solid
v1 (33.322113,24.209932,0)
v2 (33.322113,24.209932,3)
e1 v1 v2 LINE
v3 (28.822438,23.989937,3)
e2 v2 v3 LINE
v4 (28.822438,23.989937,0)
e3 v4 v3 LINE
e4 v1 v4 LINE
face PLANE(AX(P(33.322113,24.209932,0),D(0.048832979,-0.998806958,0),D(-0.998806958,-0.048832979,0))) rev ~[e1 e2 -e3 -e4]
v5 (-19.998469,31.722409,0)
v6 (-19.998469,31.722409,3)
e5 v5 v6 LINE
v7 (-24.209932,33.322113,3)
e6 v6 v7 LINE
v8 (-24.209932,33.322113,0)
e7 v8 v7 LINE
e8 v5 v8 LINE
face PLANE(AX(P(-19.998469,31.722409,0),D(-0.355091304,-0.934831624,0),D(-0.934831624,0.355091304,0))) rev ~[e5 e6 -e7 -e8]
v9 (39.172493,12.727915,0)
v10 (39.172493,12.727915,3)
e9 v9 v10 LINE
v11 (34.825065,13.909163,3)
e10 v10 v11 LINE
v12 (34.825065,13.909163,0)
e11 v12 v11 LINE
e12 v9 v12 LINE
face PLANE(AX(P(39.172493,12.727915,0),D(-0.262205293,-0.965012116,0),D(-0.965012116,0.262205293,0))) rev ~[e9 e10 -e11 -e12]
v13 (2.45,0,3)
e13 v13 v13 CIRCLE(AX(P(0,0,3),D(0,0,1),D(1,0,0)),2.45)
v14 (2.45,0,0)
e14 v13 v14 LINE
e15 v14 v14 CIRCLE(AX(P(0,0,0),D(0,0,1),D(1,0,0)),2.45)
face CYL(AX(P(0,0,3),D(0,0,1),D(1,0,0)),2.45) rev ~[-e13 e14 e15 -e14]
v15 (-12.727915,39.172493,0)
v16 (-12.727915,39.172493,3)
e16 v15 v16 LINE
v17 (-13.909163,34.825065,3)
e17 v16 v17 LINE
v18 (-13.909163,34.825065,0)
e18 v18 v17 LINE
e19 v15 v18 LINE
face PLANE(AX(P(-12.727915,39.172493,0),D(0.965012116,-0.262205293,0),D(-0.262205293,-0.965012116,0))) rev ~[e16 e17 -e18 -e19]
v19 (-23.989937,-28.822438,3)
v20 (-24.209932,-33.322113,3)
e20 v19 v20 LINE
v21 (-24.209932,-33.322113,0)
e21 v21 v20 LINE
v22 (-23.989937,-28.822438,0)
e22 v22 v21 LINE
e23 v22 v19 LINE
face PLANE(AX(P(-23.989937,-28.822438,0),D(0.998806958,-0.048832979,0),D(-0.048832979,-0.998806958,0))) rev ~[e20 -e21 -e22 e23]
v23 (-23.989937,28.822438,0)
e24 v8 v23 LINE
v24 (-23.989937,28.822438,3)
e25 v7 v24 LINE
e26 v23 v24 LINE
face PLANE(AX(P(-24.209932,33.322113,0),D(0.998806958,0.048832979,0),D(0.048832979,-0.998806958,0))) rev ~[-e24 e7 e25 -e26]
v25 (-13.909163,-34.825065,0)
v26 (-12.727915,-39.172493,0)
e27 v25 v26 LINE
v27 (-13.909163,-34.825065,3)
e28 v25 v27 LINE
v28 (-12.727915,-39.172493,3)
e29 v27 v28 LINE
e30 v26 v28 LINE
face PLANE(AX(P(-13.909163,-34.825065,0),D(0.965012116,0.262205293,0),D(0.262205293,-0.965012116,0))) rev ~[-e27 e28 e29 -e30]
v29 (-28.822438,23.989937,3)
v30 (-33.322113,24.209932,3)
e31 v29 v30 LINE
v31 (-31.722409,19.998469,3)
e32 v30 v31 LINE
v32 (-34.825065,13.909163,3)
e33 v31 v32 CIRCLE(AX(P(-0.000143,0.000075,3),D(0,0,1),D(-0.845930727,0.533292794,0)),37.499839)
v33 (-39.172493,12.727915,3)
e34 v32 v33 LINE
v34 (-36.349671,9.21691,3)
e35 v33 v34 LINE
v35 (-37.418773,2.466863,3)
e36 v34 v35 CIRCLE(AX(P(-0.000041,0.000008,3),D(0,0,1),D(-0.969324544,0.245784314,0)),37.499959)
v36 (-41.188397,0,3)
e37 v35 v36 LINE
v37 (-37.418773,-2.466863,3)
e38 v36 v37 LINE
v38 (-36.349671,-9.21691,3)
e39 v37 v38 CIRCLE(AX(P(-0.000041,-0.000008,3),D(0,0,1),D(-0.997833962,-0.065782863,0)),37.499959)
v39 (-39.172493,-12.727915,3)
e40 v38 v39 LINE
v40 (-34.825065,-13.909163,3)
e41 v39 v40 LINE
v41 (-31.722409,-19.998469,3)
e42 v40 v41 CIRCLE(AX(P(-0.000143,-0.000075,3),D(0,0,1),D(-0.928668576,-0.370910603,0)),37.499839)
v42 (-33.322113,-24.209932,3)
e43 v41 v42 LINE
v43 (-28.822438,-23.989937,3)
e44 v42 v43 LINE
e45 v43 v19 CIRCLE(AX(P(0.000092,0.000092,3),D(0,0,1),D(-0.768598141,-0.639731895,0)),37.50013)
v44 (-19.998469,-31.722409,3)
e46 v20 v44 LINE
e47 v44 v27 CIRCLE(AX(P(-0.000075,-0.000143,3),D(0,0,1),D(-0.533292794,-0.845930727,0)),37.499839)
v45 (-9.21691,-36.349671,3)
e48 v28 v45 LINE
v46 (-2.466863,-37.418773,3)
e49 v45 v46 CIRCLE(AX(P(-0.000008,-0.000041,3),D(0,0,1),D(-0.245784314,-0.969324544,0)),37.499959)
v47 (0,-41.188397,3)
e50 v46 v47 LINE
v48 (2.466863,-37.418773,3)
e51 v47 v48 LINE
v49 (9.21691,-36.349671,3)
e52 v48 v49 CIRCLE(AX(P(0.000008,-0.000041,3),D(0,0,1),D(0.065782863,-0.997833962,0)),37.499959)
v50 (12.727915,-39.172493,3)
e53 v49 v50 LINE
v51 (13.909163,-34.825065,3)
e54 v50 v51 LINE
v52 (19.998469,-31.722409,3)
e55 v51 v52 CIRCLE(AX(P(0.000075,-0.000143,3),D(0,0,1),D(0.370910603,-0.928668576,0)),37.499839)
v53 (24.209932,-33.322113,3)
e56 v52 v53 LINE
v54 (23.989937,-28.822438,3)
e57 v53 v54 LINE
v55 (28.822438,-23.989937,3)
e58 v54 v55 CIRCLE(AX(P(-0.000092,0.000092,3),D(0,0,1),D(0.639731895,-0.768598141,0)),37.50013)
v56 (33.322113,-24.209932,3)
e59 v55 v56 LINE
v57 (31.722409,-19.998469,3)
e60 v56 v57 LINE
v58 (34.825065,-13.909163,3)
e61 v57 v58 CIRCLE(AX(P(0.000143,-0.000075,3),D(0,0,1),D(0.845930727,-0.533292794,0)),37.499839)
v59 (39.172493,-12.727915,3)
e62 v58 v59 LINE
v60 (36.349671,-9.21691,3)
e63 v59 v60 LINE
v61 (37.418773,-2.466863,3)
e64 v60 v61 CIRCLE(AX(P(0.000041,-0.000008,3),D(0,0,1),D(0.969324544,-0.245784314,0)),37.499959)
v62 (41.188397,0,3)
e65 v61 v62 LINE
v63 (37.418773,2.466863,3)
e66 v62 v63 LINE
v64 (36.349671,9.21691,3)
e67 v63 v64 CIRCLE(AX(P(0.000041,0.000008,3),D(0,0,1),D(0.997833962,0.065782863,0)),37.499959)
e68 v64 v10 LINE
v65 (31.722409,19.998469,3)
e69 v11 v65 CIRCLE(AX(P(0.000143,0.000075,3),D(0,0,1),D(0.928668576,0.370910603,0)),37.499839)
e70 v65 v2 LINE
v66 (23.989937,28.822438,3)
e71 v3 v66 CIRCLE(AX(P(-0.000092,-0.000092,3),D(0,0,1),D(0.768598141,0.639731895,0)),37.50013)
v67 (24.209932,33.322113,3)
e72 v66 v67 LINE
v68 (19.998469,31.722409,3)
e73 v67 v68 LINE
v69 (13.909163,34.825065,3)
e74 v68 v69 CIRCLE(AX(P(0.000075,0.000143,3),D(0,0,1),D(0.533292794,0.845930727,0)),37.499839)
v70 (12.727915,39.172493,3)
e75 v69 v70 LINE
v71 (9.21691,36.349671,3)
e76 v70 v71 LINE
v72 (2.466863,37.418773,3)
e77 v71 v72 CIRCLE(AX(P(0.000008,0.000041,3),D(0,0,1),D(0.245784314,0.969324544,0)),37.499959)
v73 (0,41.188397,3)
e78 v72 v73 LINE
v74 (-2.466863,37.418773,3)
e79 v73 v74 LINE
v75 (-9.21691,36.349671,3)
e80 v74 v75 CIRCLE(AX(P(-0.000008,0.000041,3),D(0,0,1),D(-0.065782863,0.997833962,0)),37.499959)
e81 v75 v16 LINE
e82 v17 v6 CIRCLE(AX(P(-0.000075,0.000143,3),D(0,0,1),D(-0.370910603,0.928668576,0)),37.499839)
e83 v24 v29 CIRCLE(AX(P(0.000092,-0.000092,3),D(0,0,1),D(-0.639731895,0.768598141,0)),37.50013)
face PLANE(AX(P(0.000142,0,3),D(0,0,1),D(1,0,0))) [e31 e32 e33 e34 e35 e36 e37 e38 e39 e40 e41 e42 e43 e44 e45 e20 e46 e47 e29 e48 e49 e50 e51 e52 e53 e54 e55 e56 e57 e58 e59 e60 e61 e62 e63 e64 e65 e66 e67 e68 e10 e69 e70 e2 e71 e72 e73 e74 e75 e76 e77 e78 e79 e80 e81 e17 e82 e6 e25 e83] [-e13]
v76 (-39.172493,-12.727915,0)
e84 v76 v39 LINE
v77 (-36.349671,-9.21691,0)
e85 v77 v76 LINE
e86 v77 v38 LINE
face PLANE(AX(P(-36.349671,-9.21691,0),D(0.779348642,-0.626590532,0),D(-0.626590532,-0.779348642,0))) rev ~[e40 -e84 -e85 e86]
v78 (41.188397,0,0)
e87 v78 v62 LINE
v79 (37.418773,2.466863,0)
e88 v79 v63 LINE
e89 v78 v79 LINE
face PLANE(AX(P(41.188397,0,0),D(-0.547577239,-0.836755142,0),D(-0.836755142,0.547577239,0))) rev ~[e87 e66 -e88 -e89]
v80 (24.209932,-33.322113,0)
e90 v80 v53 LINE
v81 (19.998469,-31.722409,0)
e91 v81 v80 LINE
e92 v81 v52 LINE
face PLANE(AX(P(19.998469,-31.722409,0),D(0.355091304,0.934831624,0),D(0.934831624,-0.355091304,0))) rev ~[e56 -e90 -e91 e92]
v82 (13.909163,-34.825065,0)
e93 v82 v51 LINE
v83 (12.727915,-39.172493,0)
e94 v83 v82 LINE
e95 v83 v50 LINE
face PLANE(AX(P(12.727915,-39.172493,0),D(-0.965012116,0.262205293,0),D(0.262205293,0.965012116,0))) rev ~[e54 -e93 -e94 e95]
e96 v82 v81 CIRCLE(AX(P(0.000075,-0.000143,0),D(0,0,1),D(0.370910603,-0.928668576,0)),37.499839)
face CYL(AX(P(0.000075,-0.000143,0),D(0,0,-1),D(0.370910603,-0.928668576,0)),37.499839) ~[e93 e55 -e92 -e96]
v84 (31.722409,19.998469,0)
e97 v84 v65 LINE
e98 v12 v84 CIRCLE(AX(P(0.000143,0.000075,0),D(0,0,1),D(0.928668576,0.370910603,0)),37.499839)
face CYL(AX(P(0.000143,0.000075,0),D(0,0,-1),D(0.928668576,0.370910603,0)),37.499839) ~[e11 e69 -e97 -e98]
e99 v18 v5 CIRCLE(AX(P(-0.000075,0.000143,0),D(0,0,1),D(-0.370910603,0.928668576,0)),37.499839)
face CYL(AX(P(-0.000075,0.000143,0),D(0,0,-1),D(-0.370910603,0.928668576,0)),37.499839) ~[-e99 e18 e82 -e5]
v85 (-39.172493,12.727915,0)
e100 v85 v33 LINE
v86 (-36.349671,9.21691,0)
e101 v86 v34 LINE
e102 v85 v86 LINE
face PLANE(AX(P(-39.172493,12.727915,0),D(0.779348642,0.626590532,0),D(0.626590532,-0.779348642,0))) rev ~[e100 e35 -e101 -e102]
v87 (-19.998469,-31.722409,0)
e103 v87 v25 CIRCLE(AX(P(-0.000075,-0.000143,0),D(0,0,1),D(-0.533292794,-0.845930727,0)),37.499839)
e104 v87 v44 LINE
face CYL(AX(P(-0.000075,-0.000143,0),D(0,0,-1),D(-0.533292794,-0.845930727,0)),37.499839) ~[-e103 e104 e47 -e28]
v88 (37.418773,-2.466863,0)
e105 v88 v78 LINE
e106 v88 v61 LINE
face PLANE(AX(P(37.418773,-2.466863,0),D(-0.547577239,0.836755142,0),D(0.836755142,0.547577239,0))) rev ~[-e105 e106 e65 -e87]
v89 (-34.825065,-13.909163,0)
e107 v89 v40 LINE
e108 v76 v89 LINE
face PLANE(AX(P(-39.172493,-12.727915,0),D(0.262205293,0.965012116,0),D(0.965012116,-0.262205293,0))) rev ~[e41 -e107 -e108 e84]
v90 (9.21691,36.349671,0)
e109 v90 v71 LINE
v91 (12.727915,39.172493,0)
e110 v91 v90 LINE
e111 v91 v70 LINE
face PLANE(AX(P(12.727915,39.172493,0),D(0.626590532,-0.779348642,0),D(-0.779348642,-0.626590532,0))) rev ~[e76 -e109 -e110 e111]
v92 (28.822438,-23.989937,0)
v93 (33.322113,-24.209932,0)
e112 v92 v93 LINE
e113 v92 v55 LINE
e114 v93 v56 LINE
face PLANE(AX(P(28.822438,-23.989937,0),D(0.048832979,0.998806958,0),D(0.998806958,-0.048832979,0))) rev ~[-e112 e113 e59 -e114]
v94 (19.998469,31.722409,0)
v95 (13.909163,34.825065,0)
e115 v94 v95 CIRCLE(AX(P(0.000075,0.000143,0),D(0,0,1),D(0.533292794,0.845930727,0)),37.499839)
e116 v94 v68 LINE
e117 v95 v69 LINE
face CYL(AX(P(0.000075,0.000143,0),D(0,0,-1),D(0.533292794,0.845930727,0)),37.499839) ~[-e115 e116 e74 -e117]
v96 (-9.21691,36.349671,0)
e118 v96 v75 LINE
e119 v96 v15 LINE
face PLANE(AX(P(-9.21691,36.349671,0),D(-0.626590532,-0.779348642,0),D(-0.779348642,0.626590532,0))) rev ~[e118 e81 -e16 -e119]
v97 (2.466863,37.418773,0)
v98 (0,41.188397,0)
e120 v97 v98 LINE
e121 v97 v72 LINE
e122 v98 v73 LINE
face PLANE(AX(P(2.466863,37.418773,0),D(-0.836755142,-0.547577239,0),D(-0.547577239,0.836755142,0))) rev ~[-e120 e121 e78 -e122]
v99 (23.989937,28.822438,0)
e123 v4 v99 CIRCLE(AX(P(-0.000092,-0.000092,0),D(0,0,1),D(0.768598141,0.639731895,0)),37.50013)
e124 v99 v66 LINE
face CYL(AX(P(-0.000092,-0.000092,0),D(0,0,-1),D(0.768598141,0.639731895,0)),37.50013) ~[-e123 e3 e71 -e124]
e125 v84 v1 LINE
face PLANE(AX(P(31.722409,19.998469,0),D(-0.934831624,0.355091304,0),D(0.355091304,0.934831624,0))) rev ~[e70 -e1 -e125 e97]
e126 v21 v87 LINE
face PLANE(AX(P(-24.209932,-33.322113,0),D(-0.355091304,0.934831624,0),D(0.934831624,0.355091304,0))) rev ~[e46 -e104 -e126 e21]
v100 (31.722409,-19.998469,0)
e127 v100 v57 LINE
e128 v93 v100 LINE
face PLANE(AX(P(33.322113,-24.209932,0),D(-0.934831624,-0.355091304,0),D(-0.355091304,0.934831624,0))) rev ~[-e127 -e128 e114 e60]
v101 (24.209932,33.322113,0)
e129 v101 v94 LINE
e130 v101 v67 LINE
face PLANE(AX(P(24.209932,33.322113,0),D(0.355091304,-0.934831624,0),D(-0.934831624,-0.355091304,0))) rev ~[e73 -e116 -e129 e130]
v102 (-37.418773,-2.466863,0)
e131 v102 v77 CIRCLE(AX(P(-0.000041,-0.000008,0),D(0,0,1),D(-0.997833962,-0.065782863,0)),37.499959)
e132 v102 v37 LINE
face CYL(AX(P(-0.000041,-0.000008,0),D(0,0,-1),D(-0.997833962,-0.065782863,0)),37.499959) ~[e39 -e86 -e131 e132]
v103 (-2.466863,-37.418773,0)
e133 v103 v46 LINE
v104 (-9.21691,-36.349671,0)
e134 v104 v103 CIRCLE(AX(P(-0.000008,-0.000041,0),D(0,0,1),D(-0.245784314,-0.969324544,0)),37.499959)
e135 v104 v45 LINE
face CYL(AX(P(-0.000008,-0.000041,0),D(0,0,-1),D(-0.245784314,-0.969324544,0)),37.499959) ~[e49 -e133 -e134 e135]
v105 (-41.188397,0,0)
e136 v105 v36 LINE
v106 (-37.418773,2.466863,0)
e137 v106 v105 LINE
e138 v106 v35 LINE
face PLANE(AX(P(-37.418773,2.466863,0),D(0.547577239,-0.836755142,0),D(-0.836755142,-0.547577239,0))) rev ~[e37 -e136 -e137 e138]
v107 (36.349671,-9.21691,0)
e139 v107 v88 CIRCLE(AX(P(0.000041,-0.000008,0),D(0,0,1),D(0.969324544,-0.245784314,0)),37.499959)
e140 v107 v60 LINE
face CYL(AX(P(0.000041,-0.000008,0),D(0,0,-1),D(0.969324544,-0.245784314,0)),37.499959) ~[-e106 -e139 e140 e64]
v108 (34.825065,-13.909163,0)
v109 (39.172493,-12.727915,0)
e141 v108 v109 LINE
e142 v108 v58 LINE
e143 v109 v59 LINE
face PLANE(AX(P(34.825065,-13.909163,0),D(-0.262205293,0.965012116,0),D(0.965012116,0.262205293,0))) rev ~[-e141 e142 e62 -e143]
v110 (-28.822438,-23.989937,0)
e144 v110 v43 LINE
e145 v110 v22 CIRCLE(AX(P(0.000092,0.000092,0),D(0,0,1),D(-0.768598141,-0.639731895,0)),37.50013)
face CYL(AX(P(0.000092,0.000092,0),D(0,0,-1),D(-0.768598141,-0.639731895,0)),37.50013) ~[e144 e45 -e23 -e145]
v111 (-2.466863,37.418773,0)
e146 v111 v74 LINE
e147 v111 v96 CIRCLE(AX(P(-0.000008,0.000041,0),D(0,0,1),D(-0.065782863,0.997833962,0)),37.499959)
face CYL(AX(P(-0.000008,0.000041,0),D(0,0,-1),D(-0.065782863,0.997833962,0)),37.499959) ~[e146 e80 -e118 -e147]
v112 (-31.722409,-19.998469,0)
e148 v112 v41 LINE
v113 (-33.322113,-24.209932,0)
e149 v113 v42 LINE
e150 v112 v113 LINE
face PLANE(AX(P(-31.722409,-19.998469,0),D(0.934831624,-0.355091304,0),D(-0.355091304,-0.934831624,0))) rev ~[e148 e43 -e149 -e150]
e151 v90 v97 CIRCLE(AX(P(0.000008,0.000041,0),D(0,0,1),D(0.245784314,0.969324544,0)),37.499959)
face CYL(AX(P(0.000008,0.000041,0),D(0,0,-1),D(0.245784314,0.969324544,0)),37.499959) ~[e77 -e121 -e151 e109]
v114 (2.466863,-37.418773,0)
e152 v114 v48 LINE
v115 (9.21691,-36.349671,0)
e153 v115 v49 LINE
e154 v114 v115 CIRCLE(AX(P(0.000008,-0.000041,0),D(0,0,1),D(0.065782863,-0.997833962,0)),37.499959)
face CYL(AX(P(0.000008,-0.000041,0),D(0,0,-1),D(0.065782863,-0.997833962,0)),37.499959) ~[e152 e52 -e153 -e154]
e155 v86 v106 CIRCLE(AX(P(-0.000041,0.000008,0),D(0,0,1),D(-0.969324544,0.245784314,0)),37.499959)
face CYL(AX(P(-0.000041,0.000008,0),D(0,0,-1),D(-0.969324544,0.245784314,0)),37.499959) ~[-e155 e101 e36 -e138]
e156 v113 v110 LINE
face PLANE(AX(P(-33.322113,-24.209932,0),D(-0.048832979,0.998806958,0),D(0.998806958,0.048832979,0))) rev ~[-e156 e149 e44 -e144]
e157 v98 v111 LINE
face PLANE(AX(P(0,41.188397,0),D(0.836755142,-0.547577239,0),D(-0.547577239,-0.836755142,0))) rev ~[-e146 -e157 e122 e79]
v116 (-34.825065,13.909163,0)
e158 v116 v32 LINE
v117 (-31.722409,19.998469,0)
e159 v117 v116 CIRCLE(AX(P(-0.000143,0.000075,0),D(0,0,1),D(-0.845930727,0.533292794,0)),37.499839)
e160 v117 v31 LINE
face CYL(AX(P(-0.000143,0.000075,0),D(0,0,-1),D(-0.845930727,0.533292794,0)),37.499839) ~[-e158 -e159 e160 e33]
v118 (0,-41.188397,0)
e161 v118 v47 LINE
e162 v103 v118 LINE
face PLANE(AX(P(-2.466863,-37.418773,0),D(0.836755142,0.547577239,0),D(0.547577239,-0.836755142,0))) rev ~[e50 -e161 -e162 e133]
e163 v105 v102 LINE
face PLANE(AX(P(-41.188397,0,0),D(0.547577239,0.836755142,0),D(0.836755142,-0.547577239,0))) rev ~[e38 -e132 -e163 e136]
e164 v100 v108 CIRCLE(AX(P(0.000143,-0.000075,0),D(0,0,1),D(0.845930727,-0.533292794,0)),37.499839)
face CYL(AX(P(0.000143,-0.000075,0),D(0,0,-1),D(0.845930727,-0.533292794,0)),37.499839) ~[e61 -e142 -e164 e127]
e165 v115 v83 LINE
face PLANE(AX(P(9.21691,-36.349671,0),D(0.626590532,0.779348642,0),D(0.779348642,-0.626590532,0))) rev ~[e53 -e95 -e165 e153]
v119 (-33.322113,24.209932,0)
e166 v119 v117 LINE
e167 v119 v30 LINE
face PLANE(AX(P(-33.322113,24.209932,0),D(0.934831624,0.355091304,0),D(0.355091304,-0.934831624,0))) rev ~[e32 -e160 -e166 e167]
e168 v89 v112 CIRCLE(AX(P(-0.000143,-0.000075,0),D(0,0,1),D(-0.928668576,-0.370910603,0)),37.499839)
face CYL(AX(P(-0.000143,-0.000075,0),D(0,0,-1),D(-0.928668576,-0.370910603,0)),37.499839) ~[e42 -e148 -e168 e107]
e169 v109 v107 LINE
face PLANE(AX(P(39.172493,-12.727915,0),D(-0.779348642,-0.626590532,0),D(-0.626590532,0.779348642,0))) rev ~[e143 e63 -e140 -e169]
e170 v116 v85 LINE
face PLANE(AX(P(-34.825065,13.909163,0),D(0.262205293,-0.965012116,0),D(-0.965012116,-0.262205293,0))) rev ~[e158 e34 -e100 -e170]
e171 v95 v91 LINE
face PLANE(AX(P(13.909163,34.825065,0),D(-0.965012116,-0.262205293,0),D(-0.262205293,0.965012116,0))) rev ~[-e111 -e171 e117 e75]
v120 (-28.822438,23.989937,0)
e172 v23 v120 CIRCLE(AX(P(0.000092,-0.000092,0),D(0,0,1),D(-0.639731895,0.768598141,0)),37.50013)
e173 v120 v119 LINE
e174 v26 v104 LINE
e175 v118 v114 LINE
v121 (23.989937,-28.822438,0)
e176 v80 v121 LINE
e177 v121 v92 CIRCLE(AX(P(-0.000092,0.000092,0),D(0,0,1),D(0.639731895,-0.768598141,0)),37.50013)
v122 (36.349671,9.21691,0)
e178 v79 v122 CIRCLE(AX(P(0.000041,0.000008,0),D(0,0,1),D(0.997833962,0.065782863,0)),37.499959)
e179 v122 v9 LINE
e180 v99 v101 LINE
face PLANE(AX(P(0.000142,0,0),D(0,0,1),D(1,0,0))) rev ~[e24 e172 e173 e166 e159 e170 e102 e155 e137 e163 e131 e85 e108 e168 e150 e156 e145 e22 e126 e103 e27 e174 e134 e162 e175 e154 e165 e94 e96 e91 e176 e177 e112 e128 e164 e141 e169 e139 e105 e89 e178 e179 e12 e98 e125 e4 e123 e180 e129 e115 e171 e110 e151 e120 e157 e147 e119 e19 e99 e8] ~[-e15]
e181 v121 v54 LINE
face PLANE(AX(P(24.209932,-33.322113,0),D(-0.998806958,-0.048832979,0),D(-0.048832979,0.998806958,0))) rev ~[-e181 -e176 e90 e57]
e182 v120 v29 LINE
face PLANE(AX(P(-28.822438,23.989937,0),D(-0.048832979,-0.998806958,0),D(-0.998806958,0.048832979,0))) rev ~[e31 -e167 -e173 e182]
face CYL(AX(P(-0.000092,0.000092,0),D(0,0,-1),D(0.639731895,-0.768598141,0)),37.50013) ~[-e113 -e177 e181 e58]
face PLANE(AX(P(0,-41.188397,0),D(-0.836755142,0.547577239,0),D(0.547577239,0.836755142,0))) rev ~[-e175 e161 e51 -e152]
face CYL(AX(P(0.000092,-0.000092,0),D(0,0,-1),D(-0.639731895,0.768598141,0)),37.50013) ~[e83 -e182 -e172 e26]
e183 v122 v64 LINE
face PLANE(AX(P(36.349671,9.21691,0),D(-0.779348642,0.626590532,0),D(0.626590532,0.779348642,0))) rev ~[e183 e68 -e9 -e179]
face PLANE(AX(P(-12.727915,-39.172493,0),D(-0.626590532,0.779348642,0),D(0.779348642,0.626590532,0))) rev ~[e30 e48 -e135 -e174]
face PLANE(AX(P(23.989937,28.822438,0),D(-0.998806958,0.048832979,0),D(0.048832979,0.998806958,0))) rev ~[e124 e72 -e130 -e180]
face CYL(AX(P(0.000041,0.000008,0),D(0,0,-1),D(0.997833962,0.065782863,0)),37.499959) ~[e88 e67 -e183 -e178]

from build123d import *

# Parameters (mm, degrees)
F1_DEPTH = 3
F2_R     = 2.45
F3_DEPTH = 3


with BuildPart() as f1:
    # F0 (on Top) → F1 (new body)
    with BuildSketch(Plane.XY):
        with BuildLine():
            ThreePointArc((37.418773, -2.466863), (37.479688, -1.2341), (37.5, 0))
            ThreePointArc((37.5, 0), (37.479688, 1.2341), (37.418773, 2.466863))
            ThreePointArc((37.418773, 2.466863), (37.038313, 5.866292), (36.349671, 9.21691))
            ThreePointArc((36.349671, 9.21691), (35.664619, 11.588137), (34.825065, 13.909163))
            ThreePointArc((34.825065, 13.909163), (33.412745, 17.024644), (31.722409, 19.998469))
            ThreePointArc((31.722409, 19.998469), (30.338137, 22.041947), (28.822438, 23.989937))
            ThreePointArc((28.822438, 23.989937), (26.516504, 26.516504), (23.989937, 28.822438))
            ThreePointArc((23.989937, 28.822438), (22.041947, 30.338137), (19.998469, 31.722409))
            ThreePointArc((19.998469, 31.722409), (17.024644, 33.412745), (13.909163, 34.825065))
            ThreePointArc((13.909163, 34.825065), (11.588137, 35.664619), (9.21691, 36.349671))
            ThreePointArc((9.21691, 36.349671), (5.866292, 37.038313), (2.466863, 37.418773))
            ThreePointArc((2.466863, 37.418773), (0, 37.5), (-2.466863, 37.418773))
            ThreePointArc((-2.466863, 37.418773), (-5.866292, 37.038313), (-9.21691, 36.349671))
            ThreePointArc((-9.21691, 36.349671), (-11.588137, 35.664619), (-13.909163, 34.825065))
            ThreePointArc((-13.909163, 34.825065), (-17.024644, 33.412745), (-19.998469, 31.722409))
            ThreePointArc((-19.998469, 31.722409), (-22.041947, 30.338137), (-23.989937, 28.822438))
            ThreePointArc((-23.989937, 28.822438), (-26.516504, 26.516504), (-28.822438, 23.989937))
            ThreePointArc((-28.822438, 23.989937), (-30.338137, 22.041947), (-31.722409, 19.998469))
            ThreePointArc((-31.722409, 19.998469), (-33.412745, 17.024644), (-34.825065, 13.909163))
            ThreePointArc((-34.825065, 13.909163), (-35.664619, 11.588137), (-36.349671, 9.21691))
            ThreePointArc((-36.349671, 9.21691), (-37.038313, 5.866292), (-37.418773, 2.466863))
            ThreePointArc((-37.418773, 2.466863), (-37.5, 0), (-37.418773, -2.466863))
            ThreePointArc((-37.418773, -2.466863), (-37.038313, -5.866292), (-36.349671, -9.21691))
            ThreePointArc((-36.349671, -9.21691), (-35.664619, -11.588137), (-34.825065, -13.909163))
            ThreePointArc((-34.825065, -13.909163), (-33.412745, -17.024644), (-31.722409, -19.998469))
            ThreePointArc((-31.722409, -19.998469), (-30.338137, -22.041947), (-28.822438, -23.989937))
            ThreePointArc((-28.822438, -23.989937), (-26.516504, -26.516504), (-23.989937, -28.822438))
            ThreePointArc((-23.989937, -28.822438), (-22.041947, -30.338137), (-19.998469, -31.722409))
            ThreePointArc((-19.998469, -31.722409), (-17.024644, -33.412745), (-13.909163, -34.825065))
            ThreePointArc((-13.909163, -34.825065), (-11.588137, -35.664619), (-9.21691, -36.349671))
            ThreePointArc((-9.21691, -36.349671), (-5.866292, -37.038313), (-2.466863, -37.418773))
            ThreePointArc((-2.466863, -37.418773), (0, -37.5), (2.466863, -37.418773))
            ThreePointArc((2.466863, -37.418773), (5.866292, -37.038313), (9.21691, -36.349671))
            ThreePointArc((9.21691, -36.349671), (11.588137, -35.664619), (13.909163, -34.825065))
            ThreePointArc((13.909163, -34.825065), (17.024644, -33.412745), (19.998469, -31.722409))
            ThreePointArc((19.998469, -31.722409), (22.041947, -30.338137), (23.989937, -28.822438))
            ThreePointArc((23.989937, -28.822438), (26.516504, -26.516504), (28.822438, -23.989937))
            ThreePointArc((28.822438, -23.989937), (30.338137, -22.041947), (31.722409, -19.998469))
            ThreePointArc((31.722409, -19.998469), (33.412745, -17.024644), (34.825065, -13.909163))
            ThreePointArc((34.825065, -13.909163), (35.664619, -11.588137), (36.349671, -9.21691))
            ThreePointArc((36.349671, -9.21691), (37.038313, -5.866292), (37.418773, -2.466863))
        make_face()
        with BuildLine():
            ThreePointArc((37.418773, 2.466863), (37.479688, 1.2341), (37.5, 0))
            ThreePointArc((37.5, 0), (37.479688, -1.2341), (37.418773, -2.466863))
            Line((37.418773, -2.466863), (41.188397, 0))
            Line((41.188397, 0), (37.418773, 2.466863))
        make_face()
        with BuildLine():
            ThreePointArc((34.825065, 13.909163), (35.664619, 11.588137), (36.349671, 9.21691))
            Line((36.349671, 9.21691), (39.172493, 12.727915))
            Line((39.172493, 12.727915), (34.825065, 13.909163))
        make_face()
        with BuildLine():
            Line((39.172493, -12.727915), (36.349671, -9.21691))
            ThreePointArc((36.349671, -9.21691), (35.664619, -11.588137), (34.825065, -13.909163))
            Line((34.825065, -13.909163), (39.172493, -12.727915))
        make_face()
        with BuildLine():
            ThreePointArc((28.822438, 23.989937), (30.338137, 22.041947), (31.722409, 19.998469))
            Line((31.722409, 19.998469), (33.322113, 24.209932))
            Line((33.322113, 24.209932), (28.822438, 23.989937))
        make_face()
        with BuildLine():
            Line((33.322113, -24.209932), (31.722409, -19.998469))
            ThreePointArc((31.722409, -19.998469), (30.338137, -22.041947), (28.822438, -23.989937))
            Line((28.822438, -23.989937), (33.322113, -24.209932))
        make_face()
        with BuildLine():
            ThreePointArc((19.998469, 31.722409), (22.041947, 30.338137), (23.989937, 28.822438))
            Line((23.989937, 28.822438), (24.209932, 33.322113))
            Line((24.209932, 33.322113), (19.998469, 31.722409))
        make_face()
        with BuildLine():
            Line((24.209932, -33.322113), (23.989937, -28.822438))
            ThreePointArc((23.989937, -28.822438), (22.041947, -30.338137), (19.998469, -31.722409))
            Line((19.998469, -31.722409), (24.209932, -33.322113))
        make_face()
        with BuildLine():
            ThreePointArc((9.21691, 36.349671), (11.588137, 35.664619), (13.909163, 34.825065))
            Line((13.909163, 34.825065), (12.727915, 39.172493))
            Line((12.727915, 39.172493), (9.21691, 36.349671))
        make_face()
        with BuildLine():
            Line((12.727915, -39.172493), (13.909163, -34.825065))
            ThreePointArc((13.909163, -34.825065), (11.588137, -35.664619), (9.21691, -36.349671))
            Line((9.21691, -36.349671), (12.727915, -39.172493))
        make_face()
        with BuildLine():
            ThreePointArc((-2.466863, 37.418773), (0, 37.5), (2.466863, 37.418773))
            Line((2.466863, 37.418773), (0, 41.188397))
            Line((0, 41.188397), (-2.466863, 37.418773))
        make_face()
        with BuildLine():
            Line((0, -41.188397), (2.466863, -37.418773))
            ThreePointArc((2.466863, -37.418773), (0, -37.5), (-2.466863, -37.418773))
            Line((-2.466863, -37.418773), (0, -41.188397))
        make_face()
        with BuildLine():
            ThreePointArc((-13.909163, 34.825065), (-11.588137, 35.664619), (-9.21691, 36.349671))
            Line((-9.21691, 36.349671), (-12.727915, 39.172493))
            Line((-12.727915, 39.172493), (-13.909163, 34.825065))
        make_face()
        with BuildLine():
            Line((-12.727915, -39.172493), (-9.21691, -36.349671))
            ThreePointArc((-9.21691, -36.349671), (-11.588137, -35.664619), (-13.909163, -34.825065))
            Line((-13.909163, -34.825065), (-12.727915, -39.172493))
        make_face()
        with BuildLine():
            ThreePointArc((-23.989937, 28.822438), (-22.041947, 30.338137), (-19.998469, 31.722409))
            Line((-19.998469, 31.722409), (-24.209932, 33.322113))
            Line((-24.209932, 33.322113), (-23.989937, 28.822438))
        make_face()
        with BuildLine():
            Line((-24.209932, -33.322113), (-19.998469, -31.722409))
            ThreePointArc((-19.998469, -31.722409), (-22.041947, -30.338137), (-23.989937, -28.822438))
            Line((-23.989937, -28.822438), (-24.209932, -33.322113))
        make_face()
        with BuildLine():
            ThreePointArc((-31.722409, 19.998469), (-30.338137, 22.041947), (-28.822438, 23.989937))
            Line((-28.822438, 23.989937), (-33.322113, 24.209932))
            Line((-33.322113, 24.209932), (-31.722409, 19.998469))
        make_face()
        with BuildLine():
            Line((-33.322113, -24.209932), (-28.822438, -23.989937))
            ThreePointArc((-28.822438, -23.989937), (-30.338137, -22.041947), (-31.722409, -19.998469))
            Line((-31.722409, -19.998469), (-33.322113, -24.209932))
        make_face()
        with BuildLine():
            ThreePointArc((-36.349671, 9.21691), (-35.664619, 11.588137), (-34.825065, 13.909163))
            Line((-34.825065, 13.909163), (-39.172493, 12.727915))
            Line((-39.172493, 12.727915), (-36.349671, 9.21691))
        make_face()
        with BuildLine():
            Line((-39.172493, -12.727915), (-34.825065, -13.909163))
            ThreePointArc((-34.825065, -13.909163), (-35.664619, -11.588137), (-36.349671, -9.21691))
            Line((-36.349671, -9.21691), (-39.172493, -12.727915))
        make_face()
        with BuildLine():
            ThreePointArc((-37.418773, -2.466863), (-37.5, 0), (-37.418773, 2.466863))
            Line((-37.418773, 2.466863), (-41.188397, 0))
            Line((-41.188397, 0), (-37.418773, -2.466863))
        make_face()
    extrude(amount=F1_DEPTH)

    # F2 (on face) → F3 (cut)
    with BuildSketch(Plane.XY.offset(3)):
        Circle(F2_R)
    extrude(amount=-F3_DEPTH, mode=Mode.SUBTRACT)


solid = f1.part
